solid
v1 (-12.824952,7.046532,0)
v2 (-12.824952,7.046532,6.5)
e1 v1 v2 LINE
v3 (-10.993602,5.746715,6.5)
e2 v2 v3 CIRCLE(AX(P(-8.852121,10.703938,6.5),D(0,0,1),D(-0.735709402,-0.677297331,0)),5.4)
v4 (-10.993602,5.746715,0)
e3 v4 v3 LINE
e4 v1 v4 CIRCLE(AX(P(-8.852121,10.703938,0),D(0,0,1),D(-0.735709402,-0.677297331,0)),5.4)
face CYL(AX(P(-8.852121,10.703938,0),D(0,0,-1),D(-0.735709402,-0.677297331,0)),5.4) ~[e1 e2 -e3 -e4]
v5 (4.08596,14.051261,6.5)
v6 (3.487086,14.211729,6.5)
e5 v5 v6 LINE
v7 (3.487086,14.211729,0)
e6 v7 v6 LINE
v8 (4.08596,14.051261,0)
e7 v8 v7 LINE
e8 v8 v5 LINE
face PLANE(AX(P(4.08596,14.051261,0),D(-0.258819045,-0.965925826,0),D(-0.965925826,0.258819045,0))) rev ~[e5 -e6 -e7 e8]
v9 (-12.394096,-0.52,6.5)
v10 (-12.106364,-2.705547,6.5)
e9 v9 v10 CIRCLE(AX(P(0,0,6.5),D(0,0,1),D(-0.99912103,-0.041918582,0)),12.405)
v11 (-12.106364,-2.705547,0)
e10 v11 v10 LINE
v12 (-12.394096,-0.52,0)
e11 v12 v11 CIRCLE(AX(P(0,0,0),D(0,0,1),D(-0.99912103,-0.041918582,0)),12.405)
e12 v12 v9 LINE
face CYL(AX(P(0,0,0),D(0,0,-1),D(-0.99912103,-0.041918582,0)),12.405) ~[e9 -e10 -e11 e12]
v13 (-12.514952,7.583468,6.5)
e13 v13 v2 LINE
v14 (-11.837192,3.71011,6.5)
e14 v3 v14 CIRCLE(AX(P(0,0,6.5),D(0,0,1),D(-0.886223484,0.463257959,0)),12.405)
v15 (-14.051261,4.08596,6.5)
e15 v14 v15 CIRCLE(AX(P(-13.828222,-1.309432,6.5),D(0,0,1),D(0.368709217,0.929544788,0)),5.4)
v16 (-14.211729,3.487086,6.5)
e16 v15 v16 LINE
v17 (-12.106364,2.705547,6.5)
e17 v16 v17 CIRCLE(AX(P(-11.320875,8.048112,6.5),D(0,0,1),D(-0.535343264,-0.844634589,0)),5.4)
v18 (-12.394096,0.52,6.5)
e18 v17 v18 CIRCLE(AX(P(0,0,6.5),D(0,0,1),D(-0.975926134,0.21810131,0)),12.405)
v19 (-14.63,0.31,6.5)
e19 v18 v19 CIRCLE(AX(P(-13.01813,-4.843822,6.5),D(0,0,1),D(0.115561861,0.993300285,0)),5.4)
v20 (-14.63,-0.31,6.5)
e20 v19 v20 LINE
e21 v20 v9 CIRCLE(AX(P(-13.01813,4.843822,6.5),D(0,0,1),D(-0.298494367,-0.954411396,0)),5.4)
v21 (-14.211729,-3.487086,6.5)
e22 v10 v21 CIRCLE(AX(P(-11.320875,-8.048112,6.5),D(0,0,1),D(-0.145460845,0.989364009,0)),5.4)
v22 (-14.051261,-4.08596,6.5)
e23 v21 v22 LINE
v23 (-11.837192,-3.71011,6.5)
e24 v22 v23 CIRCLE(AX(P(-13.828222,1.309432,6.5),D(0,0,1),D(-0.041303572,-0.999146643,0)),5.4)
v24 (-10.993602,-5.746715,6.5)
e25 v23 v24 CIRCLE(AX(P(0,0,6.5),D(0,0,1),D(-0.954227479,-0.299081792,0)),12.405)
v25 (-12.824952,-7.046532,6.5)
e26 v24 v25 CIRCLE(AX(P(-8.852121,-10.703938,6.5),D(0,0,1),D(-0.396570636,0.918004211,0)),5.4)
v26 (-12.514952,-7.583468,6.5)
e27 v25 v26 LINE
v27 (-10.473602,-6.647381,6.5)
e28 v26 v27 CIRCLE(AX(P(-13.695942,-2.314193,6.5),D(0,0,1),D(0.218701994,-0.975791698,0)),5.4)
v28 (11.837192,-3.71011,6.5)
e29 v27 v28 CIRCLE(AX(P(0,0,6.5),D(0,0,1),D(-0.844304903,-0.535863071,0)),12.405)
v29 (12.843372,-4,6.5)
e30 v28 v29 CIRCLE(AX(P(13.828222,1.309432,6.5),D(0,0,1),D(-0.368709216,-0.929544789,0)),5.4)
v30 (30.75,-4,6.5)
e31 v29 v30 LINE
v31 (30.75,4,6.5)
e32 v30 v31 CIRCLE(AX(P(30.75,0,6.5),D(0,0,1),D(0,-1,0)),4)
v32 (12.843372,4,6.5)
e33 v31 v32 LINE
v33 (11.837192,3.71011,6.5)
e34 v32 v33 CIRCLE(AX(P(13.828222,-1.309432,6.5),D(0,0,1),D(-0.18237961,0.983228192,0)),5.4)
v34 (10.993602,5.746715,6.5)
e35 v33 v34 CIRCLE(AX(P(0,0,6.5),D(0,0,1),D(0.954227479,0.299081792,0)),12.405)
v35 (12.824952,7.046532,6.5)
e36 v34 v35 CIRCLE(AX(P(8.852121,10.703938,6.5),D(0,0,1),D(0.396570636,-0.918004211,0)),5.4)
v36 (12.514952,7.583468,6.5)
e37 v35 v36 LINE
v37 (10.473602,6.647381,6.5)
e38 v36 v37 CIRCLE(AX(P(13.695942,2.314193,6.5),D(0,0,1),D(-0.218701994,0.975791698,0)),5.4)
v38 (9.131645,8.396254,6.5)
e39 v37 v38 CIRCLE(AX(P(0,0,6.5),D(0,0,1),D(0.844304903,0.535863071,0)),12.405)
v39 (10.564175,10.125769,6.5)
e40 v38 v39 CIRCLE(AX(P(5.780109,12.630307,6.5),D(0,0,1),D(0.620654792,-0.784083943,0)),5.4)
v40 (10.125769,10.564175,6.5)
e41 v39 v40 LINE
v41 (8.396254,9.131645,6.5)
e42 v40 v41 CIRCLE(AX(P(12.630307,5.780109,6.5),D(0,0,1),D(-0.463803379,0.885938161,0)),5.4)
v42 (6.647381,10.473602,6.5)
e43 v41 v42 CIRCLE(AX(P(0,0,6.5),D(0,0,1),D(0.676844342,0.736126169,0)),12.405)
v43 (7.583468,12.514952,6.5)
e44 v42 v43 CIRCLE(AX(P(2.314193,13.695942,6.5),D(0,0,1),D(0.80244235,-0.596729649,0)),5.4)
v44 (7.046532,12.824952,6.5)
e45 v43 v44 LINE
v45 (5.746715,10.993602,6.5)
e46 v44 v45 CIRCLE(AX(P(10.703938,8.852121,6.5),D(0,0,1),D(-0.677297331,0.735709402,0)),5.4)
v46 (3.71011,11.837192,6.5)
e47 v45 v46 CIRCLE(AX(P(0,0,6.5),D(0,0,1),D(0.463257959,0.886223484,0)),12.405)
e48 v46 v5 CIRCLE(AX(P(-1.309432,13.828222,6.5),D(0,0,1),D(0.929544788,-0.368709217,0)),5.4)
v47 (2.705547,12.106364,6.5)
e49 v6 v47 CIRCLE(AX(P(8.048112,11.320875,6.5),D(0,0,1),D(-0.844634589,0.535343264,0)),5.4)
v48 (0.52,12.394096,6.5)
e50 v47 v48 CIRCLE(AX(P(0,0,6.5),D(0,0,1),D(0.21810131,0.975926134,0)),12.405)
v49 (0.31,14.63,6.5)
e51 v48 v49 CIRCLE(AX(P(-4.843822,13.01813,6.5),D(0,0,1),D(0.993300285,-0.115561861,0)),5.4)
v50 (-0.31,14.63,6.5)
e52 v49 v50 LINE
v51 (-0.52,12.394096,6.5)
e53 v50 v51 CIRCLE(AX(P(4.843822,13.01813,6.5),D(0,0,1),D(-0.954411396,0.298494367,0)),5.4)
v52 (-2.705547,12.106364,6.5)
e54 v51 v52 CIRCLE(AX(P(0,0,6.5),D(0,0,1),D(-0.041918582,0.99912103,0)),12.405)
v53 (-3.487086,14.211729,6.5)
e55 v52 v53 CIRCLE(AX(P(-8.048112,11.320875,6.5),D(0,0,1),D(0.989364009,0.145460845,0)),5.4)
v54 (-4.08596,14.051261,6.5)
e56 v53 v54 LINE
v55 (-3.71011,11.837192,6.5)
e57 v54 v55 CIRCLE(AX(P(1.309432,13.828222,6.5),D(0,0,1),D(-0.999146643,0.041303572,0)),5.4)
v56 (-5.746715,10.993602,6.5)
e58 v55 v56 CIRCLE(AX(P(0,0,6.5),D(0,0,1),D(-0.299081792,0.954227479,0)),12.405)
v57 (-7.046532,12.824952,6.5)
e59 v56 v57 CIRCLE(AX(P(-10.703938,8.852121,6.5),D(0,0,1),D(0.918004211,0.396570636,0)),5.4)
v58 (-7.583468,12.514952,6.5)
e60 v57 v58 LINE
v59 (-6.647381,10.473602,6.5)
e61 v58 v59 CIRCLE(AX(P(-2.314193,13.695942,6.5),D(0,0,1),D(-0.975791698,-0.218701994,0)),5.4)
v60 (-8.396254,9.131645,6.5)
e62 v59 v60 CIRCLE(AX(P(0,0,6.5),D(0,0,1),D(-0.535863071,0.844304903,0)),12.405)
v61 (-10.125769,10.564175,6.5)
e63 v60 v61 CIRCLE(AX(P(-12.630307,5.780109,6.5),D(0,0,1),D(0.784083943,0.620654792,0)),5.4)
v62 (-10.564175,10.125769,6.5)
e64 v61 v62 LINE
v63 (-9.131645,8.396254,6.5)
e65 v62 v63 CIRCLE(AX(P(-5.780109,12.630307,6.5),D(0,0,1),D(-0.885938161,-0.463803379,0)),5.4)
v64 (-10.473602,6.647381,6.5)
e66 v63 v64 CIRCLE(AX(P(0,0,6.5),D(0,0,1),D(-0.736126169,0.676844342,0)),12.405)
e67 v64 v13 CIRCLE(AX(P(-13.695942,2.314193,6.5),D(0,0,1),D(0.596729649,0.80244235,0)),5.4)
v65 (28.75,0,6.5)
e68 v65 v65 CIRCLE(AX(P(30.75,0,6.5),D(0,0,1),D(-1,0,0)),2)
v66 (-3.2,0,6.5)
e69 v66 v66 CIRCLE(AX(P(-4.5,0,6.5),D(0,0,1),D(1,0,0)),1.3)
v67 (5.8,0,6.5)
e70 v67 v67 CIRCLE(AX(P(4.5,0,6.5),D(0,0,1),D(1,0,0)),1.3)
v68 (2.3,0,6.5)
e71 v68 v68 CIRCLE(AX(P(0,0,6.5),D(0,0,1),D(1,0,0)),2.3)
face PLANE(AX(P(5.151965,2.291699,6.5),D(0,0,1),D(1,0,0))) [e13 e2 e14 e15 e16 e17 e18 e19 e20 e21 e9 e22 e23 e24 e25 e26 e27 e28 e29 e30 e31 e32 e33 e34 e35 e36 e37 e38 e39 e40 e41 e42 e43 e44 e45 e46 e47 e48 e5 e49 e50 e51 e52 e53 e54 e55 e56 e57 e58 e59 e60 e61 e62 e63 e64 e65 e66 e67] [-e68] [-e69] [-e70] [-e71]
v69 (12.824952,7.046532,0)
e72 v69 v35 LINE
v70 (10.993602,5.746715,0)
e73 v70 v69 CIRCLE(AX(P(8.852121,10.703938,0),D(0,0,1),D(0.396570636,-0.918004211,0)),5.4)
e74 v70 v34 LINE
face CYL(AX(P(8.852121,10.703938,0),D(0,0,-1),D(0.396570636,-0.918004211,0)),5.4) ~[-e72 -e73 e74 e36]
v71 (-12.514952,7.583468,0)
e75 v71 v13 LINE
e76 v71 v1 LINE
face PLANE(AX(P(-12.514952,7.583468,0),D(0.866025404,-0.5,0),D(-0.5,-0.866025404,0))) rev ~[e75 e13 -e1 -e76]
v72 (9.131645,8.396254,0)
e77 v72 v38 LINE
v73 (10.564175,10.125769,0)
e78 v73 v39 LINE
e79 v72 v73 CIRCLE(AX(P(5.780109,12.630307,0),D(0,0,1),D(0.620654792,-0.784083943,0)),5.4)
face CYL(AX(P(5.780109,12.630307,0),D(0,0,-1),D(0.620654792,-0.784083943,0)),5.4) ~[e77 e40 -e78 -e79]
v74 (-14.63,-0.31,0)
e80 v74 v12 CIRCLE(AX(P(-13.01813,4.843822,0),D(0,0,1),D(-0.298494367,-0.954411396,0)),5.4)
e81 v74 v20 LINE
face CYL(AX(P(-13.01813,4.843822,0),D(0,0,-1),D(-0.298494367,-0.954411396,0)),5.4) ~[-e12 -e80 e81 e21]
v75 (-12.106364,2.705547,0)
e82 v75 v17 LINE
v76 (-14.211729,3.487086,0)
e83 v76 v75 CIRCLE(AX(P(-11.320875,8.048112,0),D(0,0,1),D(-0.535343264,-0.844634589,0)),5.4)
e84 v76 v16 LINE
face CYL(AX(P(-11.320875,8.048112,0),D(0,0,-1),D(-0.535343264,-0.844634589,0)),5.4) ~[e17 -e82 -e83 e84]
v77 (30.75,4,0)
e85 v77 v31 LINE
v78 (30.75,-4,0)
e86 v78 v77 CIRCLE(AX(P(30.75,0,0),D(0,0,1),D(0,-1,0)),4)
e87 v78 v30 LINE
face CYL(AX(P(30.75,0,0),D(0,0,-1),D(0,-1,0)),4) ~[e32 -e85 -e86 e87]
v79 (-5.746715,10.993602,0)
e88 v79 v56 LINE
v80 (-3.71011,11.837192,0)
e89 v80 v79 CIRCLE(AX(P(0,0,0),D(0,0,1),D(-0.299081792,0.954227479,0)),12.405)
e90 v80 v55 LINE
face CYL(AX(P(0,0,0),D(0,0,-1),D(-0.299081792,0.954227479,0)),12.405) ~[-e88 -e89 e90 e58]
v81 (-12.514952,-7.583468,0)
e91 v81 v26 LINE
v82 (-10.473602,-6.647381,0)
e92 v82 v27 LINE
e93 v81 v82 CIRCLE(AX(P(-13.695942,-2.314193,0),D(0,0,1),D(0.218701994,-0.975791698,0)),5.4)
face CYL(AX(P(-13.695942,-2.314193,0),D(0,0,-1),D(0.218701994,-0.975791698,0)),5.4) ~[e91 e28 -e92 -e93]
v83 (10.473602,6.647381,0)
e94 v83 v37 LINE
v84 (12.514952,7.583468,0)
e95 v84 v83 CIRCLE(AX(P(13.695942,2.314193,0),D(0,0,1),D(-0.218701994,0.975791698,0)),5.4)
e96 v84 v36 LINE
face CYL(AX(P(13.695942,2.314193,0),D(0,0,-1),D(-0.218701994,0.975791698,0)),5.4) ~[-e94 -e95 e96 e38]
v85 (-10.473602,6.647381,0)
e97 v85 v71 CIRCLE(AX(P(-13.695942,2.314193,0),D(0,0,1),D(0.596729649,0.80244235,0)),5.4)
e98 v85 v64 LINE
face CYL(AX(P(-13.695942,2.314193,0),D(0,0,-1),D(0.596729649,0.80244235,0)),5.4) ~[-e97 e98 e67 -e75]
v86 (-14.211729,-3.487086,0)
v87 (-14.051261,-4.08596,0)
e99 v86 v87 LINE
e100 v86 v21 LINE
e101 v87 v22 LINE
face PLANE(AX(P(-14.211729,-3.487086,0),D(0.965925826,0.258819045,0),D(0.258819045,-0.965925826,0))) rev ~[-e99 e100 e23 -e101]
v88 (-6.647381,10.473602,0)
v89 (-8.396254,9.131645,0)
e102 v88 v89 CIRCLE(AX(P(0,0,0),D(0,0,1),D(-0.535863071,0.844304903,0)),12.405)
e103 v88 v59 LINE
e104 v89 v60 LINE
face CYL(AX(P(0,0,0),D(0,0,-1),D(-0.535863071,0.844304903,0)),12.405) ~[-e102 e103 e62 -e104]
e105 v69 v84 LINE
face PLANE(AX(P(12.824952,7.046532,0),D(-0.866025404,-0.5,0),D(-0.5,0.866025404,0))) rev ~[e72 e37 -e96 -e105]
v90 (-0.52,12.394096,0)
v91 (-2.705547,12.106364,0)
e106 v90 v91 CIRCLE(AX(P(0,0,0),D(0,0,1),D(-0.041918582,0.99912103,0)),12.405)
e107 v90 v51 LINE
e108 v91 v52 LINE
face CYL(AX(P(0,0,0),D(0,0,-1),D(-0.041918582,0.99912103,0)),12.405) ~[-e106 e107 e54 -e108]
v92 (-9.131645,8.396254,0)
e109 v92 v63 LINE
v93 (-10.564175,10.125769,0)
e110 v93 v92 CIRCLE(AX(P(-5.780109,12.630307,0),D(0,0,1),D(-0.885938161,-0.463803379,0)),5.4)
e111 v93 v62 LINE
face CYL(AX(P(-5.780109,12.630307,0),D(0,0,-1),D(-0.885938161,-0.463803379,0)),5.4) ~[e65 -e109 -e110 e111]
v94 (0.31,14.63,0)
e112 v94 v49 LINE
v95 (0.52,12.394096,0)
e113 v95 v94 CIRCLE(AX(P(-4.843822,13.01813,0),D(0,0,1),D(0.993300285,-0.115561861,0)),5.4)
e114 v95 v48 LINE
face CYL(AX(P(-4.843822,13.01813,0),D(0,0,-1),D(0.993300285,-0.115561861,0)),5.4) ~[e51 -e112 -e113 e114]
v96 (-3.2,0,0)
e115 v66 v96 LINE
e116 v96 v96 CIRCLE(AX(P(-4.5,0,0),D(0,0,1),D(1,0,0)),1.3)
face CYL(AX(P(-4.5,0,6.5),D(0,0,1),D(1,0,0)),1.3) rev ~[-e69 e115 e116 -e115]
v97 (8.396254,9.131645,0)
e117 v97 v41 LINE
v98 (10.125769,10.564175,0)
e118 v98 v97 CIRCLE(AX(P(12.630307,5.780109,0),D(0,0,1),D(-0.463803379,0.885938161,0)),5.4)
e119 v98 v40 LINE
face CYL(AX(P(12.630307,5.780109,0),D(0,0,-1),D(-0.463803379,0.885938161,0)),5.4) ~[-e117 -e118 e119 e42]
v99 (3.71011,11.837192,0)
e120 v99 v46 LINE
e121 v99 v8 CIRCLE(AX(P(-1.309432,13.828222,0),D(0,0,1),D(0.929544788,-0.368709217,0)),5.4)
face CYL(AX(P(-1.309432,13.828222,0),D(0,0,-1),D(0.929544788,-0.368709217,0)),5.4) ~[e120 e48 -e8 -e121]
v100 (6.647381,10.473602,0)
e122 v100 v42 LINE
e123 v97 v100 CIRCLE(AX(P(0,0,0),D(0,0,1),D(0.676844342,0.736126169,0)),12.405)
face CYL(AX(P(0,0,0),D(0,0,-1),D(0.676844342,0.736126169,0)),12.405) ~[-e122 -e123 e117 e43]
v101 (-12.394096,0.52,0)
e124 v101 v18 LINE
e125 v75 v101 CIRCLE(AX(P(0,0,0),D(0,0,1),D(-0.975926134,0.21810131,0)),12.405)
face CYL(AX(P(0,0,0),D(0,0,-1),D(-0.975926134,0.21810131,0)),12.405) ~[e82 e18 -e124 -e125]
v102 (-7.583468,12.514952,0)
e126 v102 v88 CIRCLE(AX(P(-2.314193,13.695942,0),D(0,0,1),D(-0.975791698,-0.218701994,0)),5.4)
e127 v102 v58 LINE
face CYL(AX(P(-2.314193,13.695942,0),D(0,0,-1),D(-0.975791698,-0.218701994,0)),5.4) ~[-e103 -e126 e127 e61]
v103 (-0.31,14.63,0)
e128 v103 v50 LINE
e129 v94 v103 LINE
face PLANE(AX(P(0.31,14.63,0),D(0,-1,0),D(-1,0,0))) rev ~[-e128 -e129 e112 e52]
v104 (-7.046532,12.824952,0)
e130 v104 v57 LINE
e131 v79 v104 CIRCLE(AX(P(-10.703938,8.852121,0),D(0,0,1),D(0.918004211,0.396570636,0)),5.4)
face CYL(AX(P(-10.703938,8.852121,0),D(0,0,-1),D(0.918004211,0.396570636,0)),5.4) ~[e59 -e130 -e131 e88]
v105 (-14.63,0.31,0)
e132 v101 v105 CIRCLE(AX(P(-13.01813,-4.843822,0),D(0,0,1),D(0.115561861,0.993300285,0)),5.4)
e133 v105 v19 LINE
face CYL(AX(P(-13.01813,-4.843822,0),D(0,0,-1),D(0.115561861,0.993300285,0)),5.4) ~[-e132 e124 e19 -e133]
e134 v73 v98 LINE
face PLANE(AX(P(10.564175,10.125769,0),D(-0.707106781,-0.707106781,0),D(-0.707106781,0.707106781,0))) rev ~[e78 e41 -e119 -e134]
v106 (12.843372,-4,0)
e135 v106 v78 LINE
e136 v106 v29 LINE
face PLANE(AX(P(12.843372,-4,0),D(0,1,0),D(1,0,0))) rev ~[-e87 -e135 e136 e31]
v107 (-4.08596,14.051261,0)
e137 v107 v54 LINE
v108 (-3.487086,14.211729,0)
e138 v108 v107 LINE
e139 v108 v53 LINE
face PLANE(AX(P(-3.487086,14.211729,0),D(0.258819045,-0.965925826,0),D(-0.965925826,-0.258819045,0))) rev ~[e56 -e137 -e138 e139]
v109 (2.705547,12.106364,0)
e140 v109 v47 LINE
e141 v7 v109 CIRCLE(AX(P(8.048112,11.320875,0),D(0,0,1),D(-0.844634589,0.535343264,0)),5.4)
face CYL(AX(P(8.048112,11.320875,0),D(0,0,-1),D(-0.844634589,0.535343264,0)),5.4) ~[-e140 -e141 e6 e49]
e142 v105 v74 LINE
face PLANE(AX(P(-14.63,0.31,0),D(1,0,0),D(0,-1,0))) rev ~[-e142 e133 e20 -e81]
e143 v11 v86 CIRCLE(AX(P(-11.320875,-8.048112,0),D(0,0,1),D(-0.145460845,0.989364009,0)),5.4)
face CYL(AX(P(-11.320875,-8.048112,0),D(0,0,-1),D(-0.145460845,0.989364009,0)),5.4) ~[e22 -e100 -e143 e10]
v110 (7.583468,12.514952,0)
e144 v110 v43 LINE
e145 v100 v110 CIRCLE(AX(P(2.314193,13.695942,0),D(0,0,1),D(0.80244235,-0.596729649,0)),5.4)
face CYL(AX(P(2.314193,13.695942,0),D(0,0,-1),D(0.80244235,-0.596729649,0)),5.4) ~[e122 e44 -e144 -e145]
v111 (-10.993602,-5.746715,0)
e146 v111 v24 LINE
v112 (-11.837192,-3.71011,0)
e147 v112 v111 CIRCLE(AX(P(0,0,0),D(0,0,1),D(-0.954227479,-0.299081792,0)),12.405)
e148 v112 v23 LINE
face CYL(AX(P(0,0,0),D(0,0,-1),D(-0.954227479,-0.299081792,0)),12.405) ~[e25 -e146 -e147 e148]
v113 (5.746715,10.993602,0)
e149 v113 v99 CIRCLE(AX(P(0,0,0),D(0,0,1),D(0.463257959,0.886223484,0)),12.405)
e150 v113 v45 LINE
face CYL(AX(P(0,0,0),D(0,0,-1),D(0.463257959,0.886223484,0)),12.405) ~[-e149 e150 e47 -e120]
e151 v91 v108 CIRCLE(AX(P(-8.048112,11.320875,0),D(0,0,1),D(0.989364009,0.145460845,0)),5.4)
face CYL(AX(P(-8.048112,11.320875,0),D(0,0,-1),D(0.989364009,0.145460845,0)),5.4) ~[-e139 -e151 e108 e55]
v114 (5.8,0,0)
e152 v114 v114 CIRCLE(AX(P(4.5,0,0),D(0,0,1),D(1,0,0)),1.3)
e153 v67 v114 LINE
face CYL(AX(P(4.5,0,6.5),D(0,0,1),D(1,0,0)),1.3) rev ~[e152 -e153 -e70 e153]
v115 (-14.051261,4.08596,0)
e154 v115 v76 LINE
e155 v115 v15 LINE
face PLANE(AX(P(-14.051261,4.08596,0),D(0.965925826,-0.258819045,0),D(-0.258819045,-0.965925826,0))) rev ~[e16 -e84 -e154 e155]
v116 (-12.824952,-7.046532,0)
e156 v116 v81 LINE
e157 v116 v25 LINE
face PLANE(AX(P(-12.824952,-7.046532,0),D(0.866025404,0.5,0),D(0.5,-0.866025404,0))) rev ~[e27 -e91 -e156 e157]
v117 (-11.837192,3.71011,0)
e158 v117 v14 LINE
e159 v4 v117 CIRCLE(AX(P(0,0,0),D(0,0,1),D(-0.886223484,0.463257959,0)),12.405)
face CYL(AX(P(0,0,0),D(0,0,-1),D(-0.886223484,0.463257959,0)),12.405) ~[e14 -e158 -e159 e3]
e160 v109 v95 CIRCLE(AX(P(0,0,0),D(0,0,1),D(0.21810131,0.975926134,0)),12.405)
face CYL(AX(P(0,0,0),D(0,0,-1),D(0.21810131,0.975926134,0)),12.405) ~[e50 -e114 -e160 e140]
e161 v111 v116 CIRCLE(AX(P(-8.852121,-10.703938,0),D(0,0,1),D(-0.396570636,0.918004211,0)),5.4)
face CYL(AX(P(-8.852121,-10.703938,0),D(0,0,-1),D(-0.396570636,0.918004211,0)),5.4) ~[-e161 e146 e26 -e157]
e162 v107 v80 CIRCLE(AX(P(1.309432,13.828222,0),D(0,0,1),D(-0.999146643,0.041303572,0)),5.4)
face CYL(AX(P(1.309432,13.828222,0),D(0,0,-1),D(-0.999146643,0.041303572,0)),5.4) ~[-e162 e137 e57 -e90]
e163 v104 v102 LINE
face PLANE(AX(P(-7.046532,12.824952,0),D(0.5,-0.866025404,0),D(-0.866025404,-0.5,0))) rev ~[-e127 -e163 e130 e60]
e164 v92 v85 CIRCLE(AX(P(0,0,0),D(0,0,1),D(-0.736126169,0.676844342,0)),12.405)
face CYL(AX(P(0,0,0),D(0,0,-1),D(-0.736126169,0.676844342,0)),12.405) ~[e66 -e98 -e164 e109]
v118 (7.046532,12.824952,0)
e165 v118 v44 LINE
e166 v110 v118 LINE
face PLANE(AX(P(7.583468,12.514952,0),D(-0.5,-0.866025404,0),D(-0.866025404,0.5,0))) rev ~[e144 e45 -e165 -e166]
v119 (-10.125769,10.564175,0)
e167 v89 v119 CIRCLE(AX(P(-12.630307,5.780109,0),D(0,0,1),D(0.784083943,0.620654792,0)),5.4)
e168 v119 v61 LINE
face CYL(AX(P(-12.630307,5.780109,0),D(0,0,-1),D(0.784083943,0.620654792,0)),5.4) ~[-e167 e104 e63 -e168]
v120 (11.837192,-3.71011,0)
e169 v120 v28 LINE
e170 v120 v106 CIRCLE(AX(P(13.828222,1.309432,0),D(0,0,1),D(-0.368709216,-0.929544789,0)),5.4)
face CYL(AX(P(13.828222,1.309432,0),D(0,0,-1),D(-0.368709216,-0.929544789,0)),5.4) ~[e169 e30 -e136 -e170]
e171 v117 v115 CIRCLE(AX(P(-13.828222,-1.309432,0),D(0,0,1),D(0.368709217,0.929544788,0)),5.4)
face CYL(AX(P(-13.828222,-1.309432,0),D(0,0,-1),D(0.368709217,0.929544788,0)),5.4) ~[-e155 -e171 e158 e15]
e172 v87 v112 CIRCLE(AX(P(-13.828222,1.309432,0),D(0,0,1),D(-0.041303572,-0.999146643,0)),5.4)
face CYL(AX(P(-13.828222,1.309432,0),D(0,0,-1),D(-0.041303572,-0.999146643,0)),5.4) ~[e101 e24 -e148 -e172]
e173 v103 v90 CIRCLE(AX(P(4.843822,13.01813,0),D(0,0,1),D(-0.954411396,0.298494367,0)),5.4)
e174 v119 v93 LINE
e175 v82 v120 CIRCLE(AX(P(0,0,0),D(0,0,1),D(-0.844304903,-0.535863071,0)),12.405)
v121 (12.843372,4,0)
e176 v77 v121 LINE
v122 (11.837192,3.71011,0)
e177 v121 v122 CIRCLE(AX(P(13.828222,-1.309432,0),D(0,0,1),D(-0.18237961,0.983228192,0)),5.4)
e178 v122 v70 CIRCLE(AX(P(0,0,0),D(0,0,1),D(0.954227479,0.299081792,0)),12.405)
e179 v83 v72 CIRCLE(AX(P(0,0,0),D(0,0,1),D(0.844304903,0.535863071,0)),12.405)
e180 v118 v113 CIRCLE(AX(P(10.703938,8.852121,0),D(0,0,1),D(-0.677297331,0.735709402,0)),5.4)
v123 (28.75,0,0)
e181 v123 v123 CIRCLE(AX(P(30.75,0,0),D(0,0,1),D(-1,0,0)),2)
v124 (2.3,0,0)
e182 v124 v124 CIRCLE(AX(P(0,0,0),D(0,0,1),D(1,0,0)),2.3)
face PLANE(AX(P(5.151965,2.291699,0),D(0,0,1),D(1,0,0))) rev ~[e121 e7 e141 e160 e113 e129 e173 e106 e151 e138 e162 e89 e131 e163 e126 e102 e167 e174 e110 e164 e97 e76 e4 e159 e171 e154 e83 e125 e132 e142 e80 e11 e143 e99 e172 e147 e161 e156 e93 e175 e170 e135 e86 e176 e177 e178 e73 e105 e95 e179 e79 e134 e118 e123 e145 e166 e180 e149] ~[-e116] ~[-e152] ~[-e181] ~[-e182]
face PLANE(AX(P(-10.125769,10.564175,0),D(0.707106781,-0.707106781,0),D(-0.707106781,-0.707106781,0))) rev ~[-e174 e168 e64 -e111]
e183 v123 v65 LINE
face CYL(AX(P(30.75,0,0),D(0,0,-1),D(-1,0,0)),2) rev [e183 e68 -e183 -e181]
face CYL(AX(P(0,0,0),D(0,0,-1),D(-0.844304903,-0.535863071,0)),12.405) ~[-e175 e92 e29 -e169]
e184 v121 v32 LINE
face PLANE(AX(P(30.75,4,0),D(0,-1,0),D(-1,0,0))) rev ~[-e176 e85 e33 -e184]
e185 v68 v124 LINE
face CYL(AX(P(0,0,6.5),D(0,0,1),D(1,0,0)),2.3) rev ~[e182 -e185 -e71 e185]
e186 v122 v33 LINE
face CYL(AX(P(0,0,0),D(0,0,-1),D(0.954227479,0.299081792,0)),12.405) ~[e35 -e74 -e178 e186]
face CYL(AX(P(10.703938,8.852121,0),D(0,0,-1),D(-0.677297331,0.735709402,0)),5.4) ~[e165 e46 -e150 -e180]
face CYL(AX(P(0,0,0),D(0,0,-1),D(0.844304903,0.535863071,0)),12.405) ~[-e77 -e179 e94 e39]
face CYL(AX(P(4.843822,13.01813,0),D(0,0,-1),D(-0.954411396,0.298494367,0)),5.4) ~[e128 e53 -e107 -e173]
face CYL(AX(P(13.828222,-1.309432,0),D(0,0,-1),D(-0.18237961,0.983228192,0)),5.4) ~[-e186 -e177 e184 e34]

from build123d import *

# Parameters (mm, degrees)
SKETCH1_R           = 1.75
SKETCH1_R_2         = 2
BOSS_EXTRUDE1_DEPTH = 6.5
SKETCH2_R           = 2.3
SKETCH2_R_2         = 1.3
CUT_EXTRUDE1_DEPTH  = 39.260284892


with BuildPart() as part:
    # Sketch1 → Boss-Extrude1 (new body)
    with BuildSketch(Plane.XY):
        with BuildLine():
            Line((0.31, 14.63), (-0.31, 14.63))
            ThreePointArc((-0.31, 14.63), (-0.532517386, 13.523085628), (-0.52, 12.394096377))
            ThreePointArc((-0.52, 12.394096377), (-1.619177414, 12.298873505), (-2.70554676, 12.106363687))
            ThreePointArc((-2.70554676, 12.106363687), (-2.985659813, 13.2001233), (-3.487085624, 14.211728743))
            Line((-3.487085624, 14.211728743), (-4.085959636, 14.051260935))
            ThreePointArc((-4.085959636, 14.051260935), (-4.014404405, 12.924472018), (-3.710109619, 11.837191881))
            ThreePointArc((-3.710109619, 11.837191881), (-4.747187978, 11.460725601), (-5.746714978, 10.993602319))
            ThreePointArc((-5.746714978, 10.993602319), (-6.30036923, 11.977594384), (-7.046532125, 12.824951657))
            Line((-7.046532125, 12.824951657), (-7.583467875, 12.514951657))
            ThreePointArc((-7.583467875, 12.514951657), (-7.222716398, 11.445076999), (-6.647381398, 10.473602319))
            ThreePointArc((-6.647381398, 10.473602319), (-7.551685527, 9.841548186), (-8.396254069, 9.131645121))
            ThreePointArc((-8.396254069, 9.131645121), (-9.185718896, 9.938812205), (-10.125769107, 10.564175311))
            Line((-10.125769107, 10.564175311), (-10.564175311, 10.125769107))
            ThreePointArc((-10.564175311, 10.125769107), (-9.938812205, 9.185718896), (-9.131645121, 8.396254069))
            ThreePointArc((-9.131645121, 8.396254069), (-9.841548186, 7.551685527), (-10.473602319, 6.647381398))
            ThreePointArc((-10.473602319, 6.647381398), (-11.445076999, 7.222716398), (-12.514951657, 7.583467875))
            Line((-12.514951657, 7.583467875), (-12.824951657, 7.046532125))
            ThreePointArc((-12.824951657, 7.046532125), (-11.977594384, 6.30036923), (-10.993602319, 5.746714978))
            ThreePointArc((-10.993602319, 5.746714978), (-11.460725601, 4.747187978), (-11.837191881, 3.710109619))
            ThreePointArc((-11.837191881, 3.710109619), (-12.924472018, 4.014404405), (-14.051260935, 4.085959636))
            Line((-14.051260935, 4.085959636), (-14.211728743, 3.487085624))
            ThreePointArc((-14.211728743, 3.487085624), (-13.2001233, 2.985659813), (-12.106363687, 2.70554676))
            ThreePointArc((-12.106363687, 2.70554676), (-12.298873505, 1.619177414), (-12.394096377, 0.52))
            ThreePointArc((-12.394096377, 0.52), (-13.523085628, 0.532517386), (-14.63, 0.31))
            Line((-14.63, 0.31), (-14.63, -0.31))
            ThreePointArc((-14.63, -0.31), (-13.523085628, -0.532517386), (-12.394096377, -0.52))
            ThreePointArc((-12.394096377, -0.52), (-12.298873505, -1.619177414), (-12.106363687, -2.70554676))
            ThreePointArc((-12.106363687, -2.70554676), (-13.2001233, -2.985659813), (-14.211728743, -3.487085624))
            Line((-14.211728743, -3.487085624), (-14.051260935, -4.085959636))
            ThreePointArc((-14.051260935, -4.085959636), (-12.924472018, -4.014404405), (-11.837191881, -3.710109619))
            ThreePointArc((-11.837191881, -3.710109619), (-11.460725601, -4.747187978), (-10.993602319, -5.746714978))
            ThreePointArc((-10.993602319, -5.746714978), (-11.977594384, -6.30036923), (-12.824951657, -7.046532125))
            Line((-12.824951657, -7.046532125), (-12.514951657, -7.583467875))
            ThreePointArc((-12.514951657, -7.583467875), (-11.445076999, -7.222716398), (-10.473602319, -6.647381398))
            ThreePointArc((-10.473602319, -6.647381398), (1.619177414, -12.298873505), (11.837191881, -3.710109619))
            ThreePointArc((11.837191881, -3.710109619), (12.333238692, -3.879500788), (12.84337176, -4))
            Line((12.84337176, -4), (30.75, -4))
            ThreePointArc((30.75, -4), (34.75, 0), (30.75, 4))
            Line((30.75, 4), (12.84337176, 4))
            ThreePointArc((12.84337176, 4), (12.333238692, 3.879500788), (11.837191881, 3.710109619))
            ThreePointArc((11.837191881, 3.710109619), (11.460725601, 4.747187978), (10.993602319, 5.746714978))
            ThreePointArc((10.993602319, 5.746714978), (11.977594384, 6.30036923), (12.824951657, 7.046532125))
            Line((12.824951657, 7.046532125), (12.514951657, 7.583467875))
            ThreePointArc((12.514951657, 7.583467875), (11.445076999, 7.222716398), (10.473602319, 6.647381398))
            ThreePointArc((10.473602319, 6.647381398), (9.841548186, 7.551685527), (9.131645121, 8.396254069))
            ThreePointArc((9.131645121, 8.396254069), (9.938812205, 9.185718896), (10.564175311, 10.125769107))
            Line((10.564175311, 10.125769107), (10.125769107, 10.564175311))
            ThreePointArc((10.125769107, 10.564175311), (9.185718896, 9.938812205), (8.396254069, 9.131645121))
            ThreePointArc((8.396254069, 9.131645121), (7.551685527, 9.841548186), (6.647381398, 10.473602319))
            ThreePointArc((6.647381398, 10.473602319), (7.222716398, 11.445076999), (7.583467875, 12.514951657))
            Line((7.583467875, 12.514951657), (7.046532125, 12.824951657))
            ThreePointArc((7.046532125, 12.824951657), (6.30036923, 11.977594384), (5.746714978, 10.993602319))
            ThreePointArc((5.746714978, 10.993602319), (4.747187978, 11.460725601), (3.710109619, 11.837191881))
            ThreePointArc((3.710109619, 11.837191881), (4.014404405, 12.924472018), (4.085959636, 14.051260935))
            Line((4.085959636, 14.051260935), (3.487085624, 14.211728743))
            ThreePointArc((3.487085624, 14.211728743), (2.985659813, 13.2001233), (2.70554676, 12.106363687))
            ThreePointArc((2.70554676, 12.106363687), (1.619177414, 12.298873505), (0.52, 12.394096377))
            ThreePointArc((0.52, 12.394096377), (0.532517386, 13.523085628), (0.31, 14.63))
        make_face()
        with Locations(Location((0, 0, 0), (0, 0, 180))):
            Circle(SKETCH1_R, mode=Mode.SUBTRACT)
        with Locations(Location((30.75, 0, 0), (0, 0, 180))):
            Circle(SKETCH1_R_2, mode=Mode.SUBTRACT)
    extrude(amount=BOSS_EXTRUDE1_DEPTH)

    # Sketch2 → Cut-Extrude1 (cut, through all)
    with BuildSketch(Plane.XY.offset(6.5)):
        Circle(SKETCH2_R)
        with Locations((4.5, 0)):
            Circle(SKETCH2_R_2)
        with Locations((-4.5, 0)):
            Circle(SKETCH2_R_2)
    extrude(amount=-CUT_EXTRUDE1_DEPTH, mode=Mode.SUBTRACT)


solid = part.part
